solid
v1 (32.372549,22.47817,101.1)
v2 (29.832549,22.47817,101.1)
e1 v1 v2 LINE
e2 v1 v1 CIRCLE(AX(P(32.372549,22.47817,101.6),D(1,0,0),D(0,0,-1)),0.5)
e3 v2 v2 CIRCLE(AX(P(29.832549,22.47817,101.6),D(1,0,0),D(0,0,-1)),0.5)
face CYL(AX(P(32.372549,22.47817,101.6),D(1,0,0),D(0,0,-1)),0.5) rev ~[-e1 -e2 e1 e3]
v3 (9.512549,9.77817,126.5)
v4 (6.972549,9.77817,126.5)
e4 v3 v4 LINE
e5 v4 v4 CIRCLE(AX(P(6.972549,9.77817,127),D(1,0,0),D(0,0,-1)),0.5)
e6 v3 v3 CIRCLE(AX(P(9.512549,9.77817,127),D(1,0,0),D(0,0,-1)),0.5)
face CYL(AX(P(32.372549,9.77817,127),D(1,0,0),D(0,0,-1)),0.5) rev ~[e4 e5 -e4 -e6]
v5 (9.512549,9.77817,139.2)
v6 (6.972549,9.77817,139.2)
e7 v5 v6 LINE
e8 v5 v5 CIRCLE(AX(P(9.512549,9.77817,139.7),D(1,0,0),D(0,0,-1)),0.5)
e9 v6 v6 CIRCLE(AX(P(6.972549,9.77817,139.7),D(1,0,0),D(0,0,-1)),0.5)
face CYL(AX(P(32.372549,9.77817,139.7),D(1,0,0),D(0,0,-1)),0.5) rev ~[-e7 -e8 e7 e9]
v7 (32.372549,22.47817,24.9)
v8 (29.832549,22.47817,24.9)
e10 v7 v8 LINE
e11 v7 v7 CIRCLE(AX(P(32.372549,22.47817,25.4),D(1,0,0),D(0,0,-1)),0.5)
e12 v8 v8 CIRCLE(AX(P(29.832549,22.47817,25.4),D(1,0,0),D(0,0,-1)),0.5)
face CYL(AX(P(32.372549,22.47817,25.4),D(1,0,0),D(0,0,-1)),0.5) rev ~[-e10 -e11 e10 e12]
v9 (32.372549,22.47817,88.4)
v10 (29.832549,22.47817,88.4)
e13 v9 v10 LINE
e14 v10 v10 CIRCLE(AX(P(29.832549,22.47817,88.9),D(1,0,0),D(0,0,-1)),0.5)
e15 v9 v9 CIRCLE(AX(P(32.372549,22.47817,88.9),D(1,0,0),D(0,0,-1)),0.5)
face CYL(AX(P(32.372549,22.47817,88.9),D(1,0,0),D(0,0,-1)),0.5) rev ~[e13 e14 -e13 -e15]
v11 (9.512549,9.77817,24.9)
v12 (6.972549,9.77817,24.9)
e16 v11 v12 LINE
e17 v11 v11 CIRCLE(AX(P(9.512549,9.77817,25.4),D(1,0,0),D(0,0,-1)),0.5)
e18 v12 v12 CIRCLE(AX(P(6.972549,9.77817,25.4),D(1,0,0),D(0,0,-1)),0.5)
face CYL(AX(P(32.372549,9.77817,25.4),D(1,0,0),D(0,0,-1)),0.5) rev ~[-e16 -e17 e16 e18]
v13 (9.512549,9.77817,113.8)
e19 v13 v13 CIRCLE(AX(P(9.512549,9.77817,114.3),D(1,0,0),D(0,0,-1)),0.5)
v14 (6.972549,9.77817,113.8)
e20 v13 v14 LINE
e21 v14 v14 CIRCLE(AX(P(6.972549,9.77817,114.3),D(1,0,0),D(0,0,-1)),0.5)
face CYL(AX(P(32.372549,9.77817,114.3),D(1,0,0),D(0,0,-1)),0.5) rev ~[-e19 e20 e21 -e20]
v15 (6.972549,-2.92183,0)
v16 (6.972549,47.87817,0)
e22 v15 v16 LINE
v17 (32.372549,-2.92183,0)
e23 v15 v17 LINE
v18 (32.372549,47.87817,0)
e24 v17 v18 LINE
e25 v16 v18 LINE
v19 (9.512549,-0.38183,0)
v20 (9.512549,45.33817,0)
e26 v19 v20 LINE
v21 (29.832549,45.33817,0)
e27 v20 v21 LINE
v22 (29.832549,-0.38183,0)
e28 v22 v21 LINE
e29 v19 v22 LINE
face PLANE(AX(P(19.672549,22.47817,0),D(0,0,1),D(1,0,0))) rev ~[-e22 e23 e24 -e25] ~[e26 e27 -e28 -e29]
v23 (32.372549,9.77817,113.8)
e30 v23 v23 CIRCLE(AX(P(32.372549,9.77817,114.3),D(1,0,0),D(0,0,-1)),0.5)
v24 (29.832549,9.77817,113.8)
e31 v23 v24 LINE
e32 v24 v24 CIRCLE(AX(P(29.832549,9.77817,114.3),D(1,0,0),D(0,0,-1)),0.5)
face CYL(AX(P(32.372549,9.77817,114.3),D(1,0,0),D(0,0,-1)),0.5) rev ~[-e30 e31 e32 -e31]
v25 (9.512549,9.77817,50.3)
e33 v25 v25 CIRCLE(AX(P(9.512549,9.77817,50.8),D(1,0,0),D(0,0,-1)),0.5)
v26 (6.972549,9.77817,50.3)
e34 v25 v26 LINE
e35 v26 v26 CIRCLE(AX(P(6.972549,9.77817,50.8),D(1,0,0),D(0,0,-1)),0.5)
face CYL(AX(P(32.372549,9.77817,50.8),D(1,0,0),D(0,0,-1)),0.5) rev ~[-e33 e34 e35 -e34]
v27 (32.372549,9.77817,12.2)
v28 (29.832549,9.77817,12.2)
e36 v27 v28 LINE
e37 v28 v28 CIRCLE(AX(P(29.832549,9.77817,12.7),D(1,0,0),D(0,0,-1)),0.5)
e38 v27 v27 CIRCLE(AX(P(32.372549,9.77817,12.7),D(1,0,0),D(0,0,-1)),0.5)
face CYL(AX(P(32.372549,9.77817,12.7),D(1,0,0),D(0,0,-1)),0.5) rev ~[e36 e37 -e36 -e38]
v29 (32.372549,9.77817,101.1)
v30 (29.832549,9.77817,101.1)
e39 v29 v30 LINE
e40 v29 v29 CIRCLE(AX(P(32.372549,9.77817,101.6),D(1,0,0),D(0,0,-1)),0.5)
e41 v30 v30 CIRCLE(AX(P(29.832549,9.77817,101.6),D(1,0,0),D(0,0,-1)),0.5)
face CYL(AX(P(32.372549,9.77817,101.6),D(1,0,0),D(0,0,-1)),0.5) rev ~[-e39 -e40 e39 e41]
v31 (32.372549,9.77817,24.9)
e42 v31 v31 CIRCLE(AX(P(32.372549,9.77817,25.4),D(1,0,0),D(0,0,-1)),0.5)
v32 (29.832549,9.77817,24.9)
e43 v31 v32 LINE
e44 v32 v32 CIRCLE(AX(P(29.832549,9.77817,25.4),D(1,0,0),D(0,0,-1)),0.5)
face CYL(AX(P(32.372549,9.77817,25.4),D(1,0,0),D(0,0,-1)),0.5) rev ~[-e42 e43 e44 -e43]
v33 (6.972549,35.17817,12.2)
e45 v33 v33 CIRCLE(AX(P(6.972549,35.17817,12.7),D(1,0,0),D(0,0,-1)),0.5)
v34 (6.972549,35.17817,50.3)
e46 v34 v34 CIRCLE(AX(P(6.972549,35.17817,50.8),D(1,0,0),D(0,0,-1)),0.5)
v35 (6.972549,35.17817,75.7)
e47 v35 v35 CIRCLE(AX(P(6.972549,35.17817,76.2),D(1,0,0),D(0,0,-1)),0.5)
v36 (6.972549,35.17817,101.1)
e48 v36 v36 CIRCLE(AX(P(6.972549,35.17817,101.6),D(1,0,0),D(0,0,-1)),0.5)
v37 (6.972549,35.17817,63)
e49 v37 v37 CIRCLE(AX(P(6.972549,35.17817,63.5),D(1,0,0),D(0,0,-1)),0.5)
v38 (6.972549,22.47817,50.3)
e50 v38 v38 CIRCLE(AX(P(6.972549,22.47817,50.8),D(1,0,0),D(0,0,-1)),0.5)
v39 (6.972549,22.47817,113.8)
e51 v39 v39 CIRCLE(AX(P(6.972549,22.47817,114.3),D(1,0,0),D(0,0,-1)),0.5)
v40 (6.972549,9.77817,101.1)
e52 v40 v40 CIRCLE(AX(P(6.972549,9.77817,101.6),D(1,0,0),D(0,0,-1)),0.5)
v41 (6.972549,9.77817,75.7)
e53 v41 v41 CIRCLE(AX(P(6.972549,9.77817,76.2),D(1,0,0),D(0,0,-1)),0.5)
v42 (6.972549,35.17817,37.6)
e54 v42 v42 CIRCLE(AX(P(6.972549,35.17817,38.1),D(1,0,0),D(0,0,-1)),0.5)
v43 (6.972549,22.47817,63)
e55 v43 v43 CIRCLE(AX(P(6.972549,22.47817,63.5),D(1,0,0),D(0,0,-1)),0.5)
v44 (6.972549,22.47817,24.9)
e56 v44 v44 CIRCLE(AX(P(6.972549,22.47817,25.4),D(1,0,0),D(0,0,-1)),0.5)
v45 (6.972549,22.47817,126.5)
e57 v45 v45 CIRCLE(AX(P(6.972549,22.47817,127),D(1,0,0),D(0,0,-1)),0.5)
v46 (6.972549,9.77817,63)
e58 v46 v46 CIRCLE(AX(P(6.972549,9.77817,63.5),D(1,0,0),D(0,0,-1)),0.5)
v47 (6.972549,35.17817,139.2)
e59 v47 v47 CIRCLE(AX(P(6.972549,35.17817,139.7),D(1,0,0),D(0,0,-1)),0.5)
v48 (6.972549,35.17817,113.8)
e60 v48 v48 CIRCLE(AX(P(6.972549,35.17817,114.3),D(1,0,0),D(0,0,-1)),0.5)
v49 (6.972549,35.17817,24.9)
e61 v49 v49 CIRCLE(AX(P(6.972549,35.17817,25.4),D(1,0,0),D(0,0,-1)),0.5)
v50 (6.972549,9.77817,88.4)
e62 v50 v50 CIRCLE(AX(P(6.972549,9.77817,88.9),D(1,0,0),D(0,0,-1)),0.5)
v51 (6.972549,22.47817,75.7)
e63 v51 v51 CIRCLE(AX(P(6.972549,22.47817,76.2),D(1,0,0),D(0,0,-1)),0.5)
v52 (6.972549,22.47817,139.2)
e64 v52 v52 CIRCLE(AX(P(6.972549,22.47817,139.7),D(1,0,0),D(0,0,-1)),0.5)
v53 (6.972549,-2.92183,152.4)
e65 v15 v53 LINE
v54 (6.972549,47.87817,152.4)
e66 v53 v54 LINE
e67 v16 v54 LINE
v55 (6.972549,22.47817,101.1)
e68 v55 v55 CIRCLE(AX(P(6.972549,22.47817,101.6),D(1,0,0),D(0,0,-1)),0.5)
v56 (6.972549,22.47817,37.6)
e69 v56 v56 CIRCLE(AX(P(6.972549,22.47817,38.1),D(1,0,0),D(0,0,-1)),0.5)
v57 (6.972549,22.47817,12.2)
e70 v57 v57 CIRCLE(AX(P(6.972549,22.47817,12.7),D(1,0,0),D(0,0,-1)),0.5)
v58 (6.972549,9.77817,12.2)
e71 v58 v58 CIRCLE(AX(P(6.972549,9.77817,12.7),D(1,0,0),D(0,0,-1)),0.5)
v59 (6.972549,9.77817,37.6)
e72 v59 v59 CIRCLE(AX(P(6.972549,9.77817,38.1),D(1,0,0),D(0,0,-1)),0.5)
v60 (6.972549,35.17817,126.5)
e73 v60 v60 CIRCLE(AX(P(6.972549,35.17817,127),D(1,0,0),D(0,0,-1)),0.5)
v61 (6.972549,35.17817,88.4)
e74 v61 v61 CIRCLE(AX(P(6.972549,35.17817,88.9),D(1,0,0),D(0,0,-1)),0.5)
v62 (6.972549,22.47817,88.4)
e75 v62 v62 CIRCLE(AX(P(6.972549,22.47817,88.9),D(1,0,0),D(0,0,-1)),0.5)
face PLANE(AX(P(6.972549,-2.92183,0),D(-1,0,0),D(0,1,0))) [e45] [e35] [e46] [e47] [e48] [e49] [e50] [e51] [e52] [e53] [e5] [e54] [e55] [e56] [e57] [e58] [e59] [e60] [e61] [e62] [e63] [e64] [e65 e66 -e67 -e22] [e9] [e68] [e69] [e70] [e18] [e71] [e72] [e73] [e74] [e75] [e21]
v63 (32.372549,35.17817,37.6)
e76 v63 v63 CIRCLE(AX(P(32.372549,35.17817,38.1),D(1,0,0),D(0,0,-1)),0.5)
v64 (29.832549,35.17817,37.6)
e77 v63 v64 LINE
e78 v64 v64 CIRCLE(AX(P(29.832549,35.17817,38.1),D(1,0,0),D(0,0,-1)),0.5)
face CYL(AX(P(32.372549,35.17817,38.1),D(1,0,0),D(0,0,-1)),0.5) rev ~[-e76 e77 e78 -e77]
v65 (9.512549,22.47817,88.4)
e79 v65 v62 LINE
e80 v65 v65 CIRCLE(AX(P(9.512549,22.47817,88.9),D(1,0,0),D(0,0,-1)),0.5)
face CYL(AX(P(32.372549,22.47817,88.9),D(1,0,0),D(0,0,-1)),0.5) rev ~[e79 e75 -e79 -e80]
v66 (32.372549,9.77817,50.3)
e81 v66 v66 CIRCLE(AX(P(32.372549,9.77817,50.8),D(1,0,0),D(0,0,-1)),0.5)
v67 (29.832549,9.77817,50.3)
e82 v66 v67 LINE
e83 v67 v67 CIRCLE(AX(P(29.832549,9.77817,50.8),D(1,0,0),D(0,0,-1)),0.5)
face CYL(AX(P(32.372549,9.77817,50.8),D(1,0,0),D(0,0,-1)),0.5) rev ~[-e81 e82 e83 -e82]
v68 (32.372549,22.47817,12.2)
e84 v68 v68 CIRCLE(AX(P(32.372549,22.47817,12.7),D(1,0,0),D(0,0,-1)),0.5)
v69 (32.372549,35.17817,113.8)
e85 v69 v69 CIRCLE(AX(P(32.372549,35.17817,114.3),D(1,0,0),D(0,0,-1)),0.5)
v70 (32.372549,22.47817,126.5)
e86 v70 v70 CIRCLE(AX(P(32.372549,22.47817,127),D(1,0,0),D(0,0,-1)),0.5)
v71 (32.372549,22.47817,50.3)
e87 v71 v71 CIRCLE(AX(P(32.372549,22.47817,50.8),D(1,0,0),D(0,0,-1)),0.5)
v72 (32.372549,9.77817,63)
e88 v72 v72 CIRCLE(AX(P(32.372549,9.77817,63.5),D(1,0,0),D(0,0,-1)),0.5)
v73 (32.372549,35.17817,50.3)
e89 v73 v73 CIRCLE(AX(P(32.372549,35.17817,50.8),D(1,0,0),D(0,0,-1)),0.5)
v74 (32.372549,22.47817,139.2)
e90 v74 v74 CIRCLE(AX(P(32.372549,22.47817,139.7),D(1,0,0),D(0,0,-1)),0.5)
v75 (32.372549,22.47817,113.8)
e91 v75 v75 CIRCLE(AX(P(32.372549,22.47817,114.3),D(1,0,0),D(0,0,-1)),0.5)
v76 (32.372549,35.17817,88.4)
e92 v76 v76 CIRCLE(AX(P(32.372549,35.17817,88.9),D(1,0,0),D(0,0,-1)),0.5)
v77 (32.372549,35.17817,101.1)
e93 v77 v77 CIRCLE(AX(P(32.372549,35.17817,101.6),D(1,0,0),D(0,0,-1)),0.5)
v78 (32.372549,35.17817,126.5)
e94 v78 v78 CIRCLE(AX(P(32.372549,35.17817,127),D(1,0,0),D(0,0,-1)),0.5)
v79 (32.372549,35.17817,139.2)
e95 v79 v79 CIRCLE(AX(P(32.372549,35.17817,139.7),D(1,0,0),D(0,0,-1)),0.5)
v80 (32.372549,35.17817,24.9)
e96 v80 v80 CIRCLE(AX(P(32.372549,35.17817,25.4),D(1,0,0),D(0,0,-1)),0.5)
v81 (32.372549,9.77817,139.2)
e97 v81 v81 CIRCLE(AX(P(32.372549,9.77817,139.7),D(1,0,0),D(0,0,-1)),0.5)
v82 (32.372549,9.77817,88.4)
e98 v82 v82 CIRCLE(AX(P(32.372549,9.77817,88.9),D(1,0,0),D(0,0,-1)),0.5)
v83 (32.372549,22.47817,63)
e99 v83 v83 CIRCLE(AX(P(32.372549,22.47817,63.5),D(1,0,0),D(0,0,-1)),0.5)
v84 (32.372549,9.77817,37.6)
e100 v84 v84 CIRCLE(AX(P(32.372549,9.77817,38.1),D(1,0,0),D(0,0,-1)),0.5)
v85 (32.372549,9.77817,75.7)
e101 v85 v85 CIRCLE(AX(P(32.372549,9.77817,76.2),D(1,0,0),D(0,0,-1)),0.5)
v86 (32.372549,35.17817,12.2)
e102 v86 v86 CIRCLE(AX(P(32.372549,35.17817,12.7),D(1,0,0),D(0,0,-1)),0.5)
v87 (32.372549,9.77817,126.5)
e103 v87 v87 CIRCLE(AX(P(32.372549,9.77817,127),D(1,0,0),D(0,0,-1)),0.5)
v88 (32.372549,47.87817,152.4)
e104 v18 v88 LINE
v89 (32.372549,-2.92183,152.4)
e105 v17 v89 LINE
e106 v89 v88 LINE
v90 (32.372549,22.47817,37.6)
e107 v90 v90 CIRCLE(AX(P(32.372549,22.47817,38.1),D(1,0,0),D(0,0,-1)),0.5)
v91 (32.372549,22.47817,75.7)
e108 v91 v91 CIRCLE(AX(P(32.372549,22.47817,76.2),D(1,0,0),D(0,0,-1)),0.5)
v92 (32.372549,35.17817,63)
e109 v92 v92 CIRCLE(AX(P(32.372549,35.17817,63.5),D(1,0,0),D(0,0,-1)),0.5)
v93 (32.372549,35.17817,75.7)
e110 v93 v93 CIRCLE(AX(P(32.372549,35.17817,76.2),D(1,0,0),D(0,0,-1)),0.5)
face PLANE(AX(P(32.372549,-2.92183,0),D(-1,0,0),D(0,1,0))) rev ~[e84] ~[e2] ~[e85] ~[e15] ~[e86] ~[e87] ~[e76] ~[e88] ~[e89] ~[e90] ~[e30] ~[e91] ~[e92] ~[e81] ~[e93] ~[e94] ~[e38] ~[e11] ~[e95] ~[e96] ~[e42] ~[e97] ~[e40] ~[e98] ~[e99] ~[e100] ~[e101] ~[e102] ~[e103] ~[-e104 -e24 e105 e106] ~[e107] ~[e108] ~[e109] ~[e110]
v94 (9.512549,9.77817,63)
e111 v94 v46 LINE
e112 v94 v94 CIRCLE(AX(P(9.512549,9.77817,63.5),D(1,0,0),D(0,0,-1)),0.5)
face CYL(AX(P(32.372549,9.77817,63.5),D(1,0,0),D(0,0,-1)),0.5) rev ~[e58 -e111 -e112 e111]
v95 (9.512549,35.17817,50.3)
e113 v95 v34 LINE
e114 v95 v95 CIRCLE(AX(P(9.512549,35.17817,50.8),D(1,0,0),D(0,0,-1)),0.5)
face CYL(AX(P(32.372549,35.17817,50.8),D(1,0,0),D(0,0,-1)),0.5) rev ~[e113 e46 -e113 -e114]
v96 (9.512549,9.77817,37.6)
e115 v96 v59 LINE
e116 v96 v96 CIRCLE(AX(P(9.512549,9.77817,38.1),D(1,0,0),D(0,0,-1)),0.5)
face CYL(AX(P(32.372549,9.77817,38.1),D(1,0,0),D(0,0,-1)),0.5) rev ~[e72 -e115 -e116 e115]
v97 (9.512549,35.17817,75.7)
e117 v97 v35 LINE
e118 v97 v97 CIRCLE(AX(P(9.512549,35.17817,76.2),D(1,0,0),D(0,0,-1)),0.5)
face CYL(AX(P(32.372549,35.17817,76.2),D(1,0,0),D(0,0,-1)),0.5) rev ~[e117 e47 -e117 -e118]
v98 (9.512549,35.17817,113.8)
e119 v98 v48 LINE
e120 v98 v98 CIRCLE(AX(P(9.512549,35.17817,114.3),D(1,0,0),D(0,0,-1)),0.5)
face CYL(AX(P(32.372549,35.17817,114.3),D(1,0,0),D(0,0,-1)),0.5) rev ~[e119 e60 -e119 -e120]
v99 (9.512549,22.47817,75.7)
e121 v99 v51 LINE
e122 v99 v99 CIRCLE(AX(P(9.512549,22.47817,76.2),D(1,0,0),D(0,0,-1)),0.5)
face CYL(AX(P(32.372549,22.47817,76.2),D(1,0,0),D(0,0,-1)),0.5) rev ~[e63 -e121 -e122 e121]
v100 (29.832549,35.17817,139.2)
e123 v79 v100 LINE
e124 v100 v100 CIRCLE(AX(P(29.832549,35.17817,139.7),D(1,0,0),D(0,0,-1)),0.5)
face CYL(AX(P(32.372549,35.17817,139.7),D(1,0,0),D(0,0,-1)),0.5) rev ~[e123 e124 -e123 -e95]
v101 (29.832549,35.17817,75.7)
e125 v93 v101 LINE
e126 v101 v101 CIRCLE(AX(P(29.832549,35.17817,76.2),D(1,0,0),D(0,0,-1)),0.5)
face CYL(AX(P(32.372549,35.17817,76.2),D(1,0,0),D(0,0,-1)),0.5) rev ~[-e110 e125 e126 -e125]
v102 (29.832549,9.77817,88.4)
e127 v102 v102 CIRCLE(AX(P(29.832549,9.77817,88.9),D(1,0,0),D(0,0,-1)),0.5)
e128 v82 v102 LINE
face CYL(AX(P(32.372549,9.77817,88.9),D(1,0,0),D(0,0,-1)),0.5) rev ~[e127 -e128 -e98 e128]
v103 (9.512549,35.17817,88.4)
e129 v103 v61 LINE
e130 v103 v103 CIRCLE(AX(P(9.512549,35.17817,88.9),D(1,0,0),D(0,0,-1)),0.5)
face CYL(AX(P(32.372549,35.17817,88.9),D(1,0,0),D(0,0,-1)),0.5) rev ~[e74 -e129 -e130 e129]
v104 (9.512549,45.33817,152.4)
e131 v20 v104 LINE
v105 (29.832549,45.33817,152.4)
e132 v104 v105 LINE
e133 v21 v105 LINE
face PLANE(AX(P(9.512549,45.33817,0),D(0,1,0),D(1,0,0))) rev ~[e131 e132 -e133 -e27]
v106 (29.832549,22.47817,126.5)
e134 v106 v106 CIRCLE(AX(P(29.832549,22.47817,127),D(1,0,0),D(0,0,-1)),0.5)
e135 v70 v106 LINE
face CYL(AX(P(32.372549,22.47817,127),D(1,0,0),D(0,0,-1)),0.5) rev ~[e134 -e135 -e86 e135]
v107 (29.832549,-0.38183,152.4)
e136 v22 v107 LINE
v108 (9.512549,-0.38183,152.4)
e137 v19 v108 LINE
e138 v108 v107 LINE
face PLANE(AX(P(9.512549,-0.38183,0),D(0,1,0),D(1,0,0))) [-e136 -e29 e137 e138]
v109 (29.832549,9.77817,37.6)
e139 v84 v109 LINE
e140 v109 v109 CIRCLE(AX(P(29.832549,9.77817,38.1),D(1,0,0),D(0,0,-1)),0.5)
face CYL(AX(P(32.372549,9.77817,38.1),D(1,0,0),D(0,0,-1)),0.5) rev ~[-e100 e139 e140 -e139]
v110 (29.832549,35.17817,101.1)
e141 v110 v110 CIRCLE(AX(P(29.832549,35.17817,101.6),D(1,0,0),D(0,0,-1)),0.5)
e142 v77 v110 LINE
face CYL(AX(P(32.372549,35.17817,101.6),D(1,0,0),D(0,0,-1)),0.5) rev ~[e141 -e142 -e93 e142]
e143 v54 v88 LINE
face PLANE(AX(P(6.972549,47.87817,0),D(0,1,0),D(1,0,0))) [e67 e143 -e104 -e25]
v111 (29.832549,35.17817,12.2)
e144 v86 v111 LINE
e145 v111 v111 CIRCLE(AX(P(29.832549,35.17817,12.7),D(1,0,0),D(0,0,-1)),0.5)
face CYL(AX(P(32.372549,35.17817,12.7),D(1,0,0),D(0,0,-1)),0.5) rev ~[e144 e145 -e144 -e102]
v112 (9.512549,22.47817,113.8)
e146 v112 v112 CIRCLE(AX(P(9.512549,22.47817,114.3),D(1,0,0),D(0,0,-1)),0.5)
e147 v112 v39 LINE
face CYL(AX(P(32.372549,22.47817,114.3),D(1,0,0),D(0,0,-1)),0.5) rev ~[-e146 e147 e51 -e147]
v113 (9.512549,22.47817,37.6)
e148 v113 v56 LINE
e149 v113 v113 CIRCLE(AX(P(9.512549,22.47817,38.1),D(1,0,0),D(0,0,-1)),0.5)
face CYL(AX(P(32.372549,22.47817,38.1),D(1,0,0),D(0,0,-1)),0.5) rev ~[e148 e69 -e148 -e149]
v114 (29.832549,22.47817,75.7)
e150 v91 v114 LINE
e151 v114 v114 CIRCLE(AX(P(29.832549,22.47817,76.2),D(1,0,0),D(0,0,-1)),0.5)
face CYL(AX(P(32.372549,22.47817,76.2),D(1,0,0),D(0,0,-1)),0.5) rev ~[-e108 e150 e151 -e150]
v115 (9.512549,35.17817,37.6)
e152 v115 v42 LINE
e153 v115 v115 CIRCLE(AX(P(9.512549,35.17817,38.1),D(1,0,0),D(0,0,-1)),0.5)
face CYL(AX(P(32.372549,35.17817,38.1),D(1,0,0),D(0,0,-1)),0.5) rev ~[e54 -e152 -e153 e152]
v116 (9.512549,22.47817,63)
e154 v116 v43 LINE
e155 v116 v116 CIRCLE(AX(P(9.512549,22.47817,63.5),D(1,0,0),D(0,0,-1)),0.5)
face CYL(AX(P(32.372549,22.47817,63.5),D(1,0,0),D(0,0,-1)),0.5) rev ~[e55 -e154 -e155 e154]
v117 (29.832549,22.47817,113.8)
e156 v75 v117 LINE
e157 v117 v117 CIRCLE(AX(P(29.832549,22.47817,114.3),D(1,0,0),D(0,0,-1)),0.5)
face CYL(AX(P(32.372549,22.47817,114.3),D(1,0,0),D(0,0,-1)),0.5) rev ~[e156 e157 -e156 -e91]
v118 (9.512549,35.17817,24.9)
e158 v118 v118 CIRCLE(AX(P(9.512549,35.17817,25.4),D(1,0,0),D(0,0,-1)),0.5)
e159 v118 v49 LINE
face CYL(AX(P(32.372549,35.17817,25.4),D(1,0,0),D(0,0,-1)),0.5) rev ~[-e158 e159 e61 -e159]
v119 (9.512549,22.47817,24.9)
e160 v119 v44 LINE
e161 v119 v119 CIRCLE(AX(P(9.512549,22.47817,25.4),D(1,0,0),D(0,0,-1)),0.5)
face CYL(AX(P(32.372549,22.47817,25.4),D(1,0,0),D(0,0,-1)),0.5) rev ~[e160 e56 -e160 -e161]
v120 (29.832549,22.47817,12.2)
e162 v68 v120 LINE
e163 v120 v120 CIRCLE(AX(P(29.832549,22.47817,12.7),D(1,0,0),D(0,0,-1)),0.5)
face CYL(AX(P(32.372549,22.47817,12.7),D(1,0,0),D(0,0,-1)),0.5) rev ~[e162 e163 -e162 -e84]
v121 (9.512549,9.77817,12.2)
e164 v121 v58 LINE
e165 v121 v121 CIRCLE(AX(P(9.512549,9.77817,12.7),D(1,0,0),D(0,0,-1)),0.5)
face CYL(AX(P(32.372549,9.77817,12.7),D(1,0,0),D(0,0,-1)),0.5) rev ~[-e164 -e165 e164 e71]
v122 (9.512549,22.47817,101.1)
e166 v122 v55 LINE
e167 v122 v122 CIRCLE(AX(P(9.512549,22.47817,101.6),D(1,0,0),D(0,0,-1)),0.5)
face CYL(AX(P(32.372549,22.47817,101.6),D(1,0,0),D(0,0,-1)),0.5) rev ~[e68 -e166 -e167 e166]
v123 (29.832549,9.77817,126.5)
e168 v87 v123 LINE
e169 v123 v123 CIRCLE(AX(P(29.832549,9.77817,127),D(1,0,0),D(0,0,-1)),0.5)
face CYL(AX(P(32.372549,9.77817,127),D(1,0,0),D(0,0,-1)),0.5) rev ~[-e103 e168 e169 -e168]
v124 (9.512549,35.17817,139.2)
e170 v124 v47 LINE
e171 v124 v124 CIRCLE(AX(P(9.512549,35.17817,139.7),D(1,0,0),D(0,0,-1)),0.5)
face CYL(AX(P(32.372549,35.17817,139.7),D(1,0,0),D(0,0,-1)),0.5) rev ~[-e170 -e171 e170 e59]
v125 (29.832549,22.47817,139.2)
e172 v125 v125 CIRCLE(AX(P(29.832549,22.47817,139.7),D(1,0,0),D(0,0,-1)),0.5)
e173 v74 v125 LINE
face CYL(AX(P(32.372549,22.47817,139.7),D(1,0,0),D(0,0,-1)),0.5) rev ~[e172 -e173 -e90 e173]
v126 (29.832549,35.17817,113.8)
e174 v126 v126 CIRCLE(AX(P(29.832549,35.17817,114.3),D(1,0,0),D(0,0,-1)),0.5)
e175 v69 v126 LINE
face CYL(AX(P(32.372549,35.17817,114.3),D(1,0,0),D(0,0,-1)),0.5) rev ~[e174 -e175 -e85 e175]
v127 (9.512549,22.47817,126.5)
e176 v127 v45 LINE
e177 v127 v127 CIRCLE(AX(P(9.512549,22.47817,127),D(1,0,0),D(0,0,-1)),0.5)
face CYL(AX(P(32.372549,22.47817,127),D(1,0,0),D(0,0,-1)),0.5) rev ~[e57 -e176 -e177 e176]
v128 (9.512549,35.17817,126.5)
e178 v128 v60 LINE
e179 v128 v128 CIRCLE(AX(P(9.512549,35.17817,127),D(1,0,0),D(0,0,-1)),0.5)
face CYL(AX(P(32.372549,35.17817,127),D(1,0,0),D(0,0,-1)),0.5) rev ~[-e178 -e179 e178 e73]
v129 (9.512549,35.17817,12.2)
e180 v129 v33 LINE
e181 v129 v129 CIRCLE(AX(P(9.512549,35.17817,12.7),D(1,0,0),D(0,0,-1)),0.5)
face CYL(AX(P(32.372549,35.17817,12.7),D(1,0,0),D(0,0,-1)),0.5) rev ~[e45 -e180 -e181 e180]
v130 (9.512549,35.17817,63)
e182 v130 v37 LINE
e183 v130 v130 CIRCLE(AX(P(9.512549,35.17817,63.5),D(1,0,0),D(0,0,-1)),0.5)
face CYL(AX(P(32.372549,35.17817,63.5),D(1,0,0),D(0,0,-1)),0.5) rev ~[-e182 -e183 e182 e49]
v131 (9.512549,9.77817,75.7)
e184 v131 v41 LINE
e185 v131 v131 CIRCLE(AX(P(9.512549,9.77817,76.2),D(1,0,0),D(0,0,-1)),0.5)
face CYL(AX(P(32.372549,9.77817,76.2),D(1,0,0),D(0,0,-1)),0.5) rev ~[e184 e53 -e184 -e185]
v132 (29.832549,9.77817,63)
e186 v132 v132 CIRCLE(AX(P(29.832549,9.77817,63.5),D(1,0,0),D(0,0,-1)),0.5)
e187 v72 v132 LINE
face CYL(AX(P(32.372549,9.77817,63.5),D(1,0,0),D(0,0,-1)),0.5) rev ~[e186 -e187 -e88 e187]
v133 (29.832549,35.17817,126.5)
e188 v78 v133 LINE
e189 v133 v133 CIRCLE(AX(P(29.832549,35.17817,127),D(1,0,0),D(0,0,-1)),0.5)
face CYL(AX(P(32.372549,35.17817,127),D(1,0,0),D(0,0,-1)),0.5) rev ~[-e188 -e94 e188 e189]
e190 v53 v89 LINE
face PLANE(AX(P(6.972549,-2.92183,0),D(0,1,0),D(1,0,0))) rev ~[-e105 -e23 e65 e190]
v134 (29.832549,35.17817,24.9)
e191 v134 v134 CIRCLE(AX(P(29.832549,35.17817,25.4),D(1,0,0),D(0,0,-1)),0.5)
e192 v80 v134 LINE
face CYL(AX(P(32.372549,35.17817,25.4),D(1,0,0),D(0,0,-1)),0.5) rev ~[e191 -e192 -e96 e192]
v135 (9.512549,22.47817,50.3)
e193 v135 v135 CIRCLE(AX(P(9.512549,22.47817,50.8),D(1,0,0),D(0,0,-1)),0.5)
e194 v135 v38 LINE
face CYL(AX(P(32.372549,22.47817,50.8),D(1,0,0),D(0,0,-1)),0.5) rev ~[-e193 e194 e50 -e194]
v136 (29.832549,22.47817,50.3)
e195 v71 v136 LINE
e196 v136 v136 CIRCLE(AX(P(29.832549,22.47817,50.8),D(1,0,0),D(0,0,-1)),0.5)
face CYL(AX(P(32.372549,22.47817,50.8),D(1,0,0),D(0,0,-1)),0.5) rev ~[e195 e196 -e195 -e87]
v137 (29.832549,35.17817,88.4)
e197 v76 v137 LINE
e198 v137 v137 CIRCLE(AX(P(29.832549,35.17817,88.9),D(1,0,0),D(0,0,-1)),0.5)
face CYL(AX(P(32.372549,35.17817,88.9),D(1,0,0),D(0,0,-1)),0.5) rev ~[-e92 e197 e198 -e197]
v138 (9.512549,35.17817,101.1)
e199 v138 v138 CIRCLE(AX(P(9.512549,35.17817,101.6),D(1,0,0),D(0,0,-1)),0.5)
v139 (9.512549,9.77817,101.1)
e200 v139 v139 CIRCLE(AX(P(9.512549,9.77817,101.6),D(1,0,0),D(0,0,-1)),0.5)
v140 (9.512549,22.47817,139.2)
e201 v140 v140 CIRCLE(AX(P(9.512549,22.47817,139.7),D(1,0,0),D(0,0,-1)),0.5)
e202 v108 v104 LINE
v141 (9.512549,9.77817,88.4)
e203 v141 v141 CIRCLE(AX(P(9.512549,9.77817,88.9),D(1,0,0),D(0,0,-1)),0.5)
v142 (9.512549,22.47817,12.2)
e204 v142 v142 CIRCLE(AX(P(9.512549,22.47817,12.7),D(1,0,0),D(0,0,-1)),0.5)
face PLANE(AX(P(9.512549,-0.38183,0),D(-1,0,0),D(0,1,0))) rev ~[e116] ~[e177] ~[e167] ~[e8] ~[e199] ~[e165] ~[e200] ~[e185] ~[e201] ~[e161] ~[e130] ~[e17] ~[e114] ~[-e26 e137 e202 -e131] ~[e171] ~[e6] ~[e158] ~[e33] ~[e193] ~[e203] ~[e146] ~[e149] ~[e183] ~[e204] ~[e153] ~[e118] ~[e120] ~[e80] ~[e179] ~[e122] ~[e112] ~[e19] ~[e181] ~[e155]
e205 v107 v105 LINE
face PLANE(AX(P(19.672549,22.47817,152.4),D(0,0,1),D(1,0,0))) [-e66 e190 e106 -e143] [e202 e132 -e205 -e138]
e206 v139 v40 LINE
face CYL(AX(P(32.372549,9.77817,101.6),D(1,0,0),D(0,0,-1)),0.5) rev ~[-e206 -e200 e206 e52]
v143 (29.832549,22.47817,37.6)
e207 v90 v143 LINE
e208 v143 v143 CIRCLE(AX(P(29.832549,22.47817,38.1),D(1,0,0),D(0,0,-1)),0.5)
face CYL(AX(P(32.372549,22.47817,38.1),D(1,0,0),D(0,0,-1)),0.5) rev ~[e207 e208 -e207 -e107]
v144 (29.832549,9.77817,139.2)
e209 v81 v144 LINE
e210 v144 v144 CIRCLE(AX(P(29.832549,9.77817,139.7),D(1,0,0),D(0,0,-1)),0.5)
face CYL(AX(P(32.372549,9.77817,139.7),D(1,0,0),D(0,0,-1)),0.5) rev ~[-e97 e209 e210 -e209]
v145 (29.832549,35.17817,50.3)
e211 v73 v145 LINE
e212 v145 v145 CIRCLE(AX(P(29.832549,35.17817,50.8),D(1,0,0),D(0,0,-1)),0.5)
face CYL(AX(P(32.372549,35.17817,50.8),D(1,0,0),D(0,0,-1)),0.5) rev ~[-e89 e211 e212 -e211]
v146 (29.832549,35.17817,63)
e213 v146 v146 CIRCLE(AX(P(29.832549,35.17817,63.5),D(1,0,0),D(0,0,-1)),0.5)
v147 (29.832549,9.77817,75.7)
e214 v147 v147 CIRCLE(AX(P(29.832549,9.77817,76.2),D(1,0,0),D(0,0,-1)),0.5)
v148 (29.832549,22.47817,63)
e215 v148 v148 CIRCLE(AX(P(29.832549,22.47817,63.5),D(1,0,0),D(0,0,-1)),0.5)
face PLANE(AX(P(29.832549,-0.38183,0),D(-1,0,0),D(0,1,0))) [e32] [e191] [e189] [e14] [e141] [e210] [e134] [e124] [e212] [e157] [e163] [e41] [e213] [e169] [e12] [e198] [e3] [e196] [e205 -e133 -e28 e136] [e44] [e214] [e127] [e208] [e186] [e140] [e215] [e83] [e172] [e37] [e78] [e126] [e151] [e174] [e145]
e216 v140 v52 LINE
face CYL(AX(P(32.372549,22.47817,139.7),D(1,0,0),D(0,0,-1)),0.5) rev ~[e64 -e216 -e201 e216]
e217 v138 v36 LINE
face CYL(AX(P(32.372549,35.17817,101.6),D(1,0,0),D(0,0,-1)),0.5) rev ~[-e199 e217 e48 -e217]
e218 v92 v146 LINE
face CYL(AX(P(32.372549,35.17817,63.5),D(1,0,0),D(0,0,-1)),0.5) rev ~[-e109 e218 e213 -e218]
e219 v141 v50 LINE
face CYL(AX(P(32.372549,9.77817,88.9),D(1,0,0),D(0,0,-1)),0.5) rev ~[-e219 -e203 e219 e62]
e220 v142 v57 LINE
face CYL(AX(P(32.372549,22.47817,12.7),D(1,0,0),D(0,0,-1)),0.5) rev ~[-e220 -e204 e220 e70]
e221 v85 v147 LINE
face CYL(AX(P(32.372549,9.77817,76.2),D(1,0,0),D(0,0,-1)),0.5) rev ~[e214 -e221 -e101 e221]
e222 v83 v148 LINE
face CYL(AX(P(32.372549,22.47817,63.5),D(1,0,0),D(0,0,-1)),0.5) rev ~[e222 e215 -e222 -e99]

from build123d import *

# Parameters (mm, degrees)
SKETCH1_W               = 25.4
SKETCH1_H               = 50.8
SKETCH1_W_2             = 20.32
SKETCH1_H_2             = 45.72
BOSS_EXTRUDE1_DEPTH     = 152.4
SKETCH2_R               = 0.5
CUT_EXTRUDE1_DEPTH      = 1
CUT_EXTRUDE1_DEPTH_BACK = 26.4


with BuildPart() as part:
    # Sketch1 → Boss-Extrude1 (new body)
    with BuildSketch(Plane.XY):
        with Locations((19.67254902, 22.478169935)):
            Rectangle(SKETCH1_W, SKETCH1_H)
        with Locations((19.67254902, 22.478169935)):
            Rectangle(SKETCH1_W_2, SKETCH1_H_2, mode=Mode.SUBTRACT)
    extrude(amount=BOSS_EXTRUDE1_DEPTH)

    # Sketch2 → Cut-Extrude1 (cut, two sides)
    with BuildSketch(Plane(origin=(32.37254902, 0, 0), x_dir=(0, 0, -1), z_dir=(1, 0, 0))) as cut_extrude1_sk:
        with Locations((-139.7, 35.178169935)):
            Circle(SKETCH2_R)
        with Locations((-127, 35.178169935)):
            Circle(SKETCH2_R)
        with Locations((-114.3, 35.178169935)):
            Circle(SKETCH2_R)
        with Locations((-101.6, 35.178169935)):
            Circle(SKETCH2_R)
        with Locations((-88.9, 35.178169935)):
            Circle(SKETCH2_R)
        with Locations((-76.2, 35.178169935)):
            Circle(SKETCH2_R)
        with Locations((-63.5, 35.178169935)):
            Circle(SKETCH2_R)
        with Locations((-50.8, 35.178169935)):
            Circle(SKETCH2_R)
        with Locations((-38.1, 35.178169935)):
            Circle(SKETCH2_R)
        with Locations((-25.4, 35.178169935)):
            Circle(SKETCH2_R)
        with Locations((-12.7, 35.178169935)):
            Circle(SKETCH2_R)
        with Locations((-127, 22.478169935)):
            Circle(SKETCH2_R)
        with Locations((-114.3, 22.478169935)):
            Circle(SKETCH2_R)
        with Locations((-101.6, 22.478169935)):
            Circle(SKETCH2_R)
        with Locations((-88.9, 22.478169935)):
            Circle(SKETCH2_R)
        with Locations((-76.2, 22.478169935)):
            Circle(SKETCH2_R)
        with Locations((-63.5, 22.478169935)):
            Circle(SKETCH2_R)
        with Locations((-50.8, 22.478169935)):
            Circle(SKETCH2_R)
        with Locations((-38.1, 22.478169935)):
            Circle(SKETCH2_R)
        with Locations((-25.4, 22.478169935)):
            Circle(SKETCH2_R)
        with Locations((-12.7, 22.478169935)):
            Circle(SKETCH2_R)
        with Locations((-127, 9.778169935)):
            Circle(SKETCH2_R)
        with Locations((-114.3, 9.778169935)):
            Circle(SKETCH2_R)
        with Locations((-101.6, 9.778169935)):
            Circle(SKETCH2_R)
        with Locations((-88.9, 9.778169935)):
            Circle(SKETCH2_R)
        with Locations((-76.2, 9.778169935)):
            Circle(SKETCH2_R)
        with Locations((-63.5, 9.778169935)):
            Circle(SKETCH2_R)
        with Locations((-50.8, 9.778169935)):
            Circle(SKETCH2_R)
        with Locations((-38.1, 9.778169935)):
            Circle(SKETCH2_R)
        with Locations((-25.4, 9.778169935)):
            Circle(SKETCH2_R)
        with Locations((-12.7, 9.778169935)):
            Circle(SKETCH2_R)
        with Locations((-139.7, 22.478169935)):
            Circle(SKETCH2_R)
        with Locations((-139.7, 9.778169935)):
            Circle(SKETCH2_R)
    extrude(amount=CUT_EXTRUDE1_DEPTH, mode=Mode.SUBTRACT)
    extrude(cut_extrude1_sk.sketch, amount=-CUT_EXTRUDE1_DEPTH_BACK, mode=Mode.SUBTRACT)


solid = part.part
